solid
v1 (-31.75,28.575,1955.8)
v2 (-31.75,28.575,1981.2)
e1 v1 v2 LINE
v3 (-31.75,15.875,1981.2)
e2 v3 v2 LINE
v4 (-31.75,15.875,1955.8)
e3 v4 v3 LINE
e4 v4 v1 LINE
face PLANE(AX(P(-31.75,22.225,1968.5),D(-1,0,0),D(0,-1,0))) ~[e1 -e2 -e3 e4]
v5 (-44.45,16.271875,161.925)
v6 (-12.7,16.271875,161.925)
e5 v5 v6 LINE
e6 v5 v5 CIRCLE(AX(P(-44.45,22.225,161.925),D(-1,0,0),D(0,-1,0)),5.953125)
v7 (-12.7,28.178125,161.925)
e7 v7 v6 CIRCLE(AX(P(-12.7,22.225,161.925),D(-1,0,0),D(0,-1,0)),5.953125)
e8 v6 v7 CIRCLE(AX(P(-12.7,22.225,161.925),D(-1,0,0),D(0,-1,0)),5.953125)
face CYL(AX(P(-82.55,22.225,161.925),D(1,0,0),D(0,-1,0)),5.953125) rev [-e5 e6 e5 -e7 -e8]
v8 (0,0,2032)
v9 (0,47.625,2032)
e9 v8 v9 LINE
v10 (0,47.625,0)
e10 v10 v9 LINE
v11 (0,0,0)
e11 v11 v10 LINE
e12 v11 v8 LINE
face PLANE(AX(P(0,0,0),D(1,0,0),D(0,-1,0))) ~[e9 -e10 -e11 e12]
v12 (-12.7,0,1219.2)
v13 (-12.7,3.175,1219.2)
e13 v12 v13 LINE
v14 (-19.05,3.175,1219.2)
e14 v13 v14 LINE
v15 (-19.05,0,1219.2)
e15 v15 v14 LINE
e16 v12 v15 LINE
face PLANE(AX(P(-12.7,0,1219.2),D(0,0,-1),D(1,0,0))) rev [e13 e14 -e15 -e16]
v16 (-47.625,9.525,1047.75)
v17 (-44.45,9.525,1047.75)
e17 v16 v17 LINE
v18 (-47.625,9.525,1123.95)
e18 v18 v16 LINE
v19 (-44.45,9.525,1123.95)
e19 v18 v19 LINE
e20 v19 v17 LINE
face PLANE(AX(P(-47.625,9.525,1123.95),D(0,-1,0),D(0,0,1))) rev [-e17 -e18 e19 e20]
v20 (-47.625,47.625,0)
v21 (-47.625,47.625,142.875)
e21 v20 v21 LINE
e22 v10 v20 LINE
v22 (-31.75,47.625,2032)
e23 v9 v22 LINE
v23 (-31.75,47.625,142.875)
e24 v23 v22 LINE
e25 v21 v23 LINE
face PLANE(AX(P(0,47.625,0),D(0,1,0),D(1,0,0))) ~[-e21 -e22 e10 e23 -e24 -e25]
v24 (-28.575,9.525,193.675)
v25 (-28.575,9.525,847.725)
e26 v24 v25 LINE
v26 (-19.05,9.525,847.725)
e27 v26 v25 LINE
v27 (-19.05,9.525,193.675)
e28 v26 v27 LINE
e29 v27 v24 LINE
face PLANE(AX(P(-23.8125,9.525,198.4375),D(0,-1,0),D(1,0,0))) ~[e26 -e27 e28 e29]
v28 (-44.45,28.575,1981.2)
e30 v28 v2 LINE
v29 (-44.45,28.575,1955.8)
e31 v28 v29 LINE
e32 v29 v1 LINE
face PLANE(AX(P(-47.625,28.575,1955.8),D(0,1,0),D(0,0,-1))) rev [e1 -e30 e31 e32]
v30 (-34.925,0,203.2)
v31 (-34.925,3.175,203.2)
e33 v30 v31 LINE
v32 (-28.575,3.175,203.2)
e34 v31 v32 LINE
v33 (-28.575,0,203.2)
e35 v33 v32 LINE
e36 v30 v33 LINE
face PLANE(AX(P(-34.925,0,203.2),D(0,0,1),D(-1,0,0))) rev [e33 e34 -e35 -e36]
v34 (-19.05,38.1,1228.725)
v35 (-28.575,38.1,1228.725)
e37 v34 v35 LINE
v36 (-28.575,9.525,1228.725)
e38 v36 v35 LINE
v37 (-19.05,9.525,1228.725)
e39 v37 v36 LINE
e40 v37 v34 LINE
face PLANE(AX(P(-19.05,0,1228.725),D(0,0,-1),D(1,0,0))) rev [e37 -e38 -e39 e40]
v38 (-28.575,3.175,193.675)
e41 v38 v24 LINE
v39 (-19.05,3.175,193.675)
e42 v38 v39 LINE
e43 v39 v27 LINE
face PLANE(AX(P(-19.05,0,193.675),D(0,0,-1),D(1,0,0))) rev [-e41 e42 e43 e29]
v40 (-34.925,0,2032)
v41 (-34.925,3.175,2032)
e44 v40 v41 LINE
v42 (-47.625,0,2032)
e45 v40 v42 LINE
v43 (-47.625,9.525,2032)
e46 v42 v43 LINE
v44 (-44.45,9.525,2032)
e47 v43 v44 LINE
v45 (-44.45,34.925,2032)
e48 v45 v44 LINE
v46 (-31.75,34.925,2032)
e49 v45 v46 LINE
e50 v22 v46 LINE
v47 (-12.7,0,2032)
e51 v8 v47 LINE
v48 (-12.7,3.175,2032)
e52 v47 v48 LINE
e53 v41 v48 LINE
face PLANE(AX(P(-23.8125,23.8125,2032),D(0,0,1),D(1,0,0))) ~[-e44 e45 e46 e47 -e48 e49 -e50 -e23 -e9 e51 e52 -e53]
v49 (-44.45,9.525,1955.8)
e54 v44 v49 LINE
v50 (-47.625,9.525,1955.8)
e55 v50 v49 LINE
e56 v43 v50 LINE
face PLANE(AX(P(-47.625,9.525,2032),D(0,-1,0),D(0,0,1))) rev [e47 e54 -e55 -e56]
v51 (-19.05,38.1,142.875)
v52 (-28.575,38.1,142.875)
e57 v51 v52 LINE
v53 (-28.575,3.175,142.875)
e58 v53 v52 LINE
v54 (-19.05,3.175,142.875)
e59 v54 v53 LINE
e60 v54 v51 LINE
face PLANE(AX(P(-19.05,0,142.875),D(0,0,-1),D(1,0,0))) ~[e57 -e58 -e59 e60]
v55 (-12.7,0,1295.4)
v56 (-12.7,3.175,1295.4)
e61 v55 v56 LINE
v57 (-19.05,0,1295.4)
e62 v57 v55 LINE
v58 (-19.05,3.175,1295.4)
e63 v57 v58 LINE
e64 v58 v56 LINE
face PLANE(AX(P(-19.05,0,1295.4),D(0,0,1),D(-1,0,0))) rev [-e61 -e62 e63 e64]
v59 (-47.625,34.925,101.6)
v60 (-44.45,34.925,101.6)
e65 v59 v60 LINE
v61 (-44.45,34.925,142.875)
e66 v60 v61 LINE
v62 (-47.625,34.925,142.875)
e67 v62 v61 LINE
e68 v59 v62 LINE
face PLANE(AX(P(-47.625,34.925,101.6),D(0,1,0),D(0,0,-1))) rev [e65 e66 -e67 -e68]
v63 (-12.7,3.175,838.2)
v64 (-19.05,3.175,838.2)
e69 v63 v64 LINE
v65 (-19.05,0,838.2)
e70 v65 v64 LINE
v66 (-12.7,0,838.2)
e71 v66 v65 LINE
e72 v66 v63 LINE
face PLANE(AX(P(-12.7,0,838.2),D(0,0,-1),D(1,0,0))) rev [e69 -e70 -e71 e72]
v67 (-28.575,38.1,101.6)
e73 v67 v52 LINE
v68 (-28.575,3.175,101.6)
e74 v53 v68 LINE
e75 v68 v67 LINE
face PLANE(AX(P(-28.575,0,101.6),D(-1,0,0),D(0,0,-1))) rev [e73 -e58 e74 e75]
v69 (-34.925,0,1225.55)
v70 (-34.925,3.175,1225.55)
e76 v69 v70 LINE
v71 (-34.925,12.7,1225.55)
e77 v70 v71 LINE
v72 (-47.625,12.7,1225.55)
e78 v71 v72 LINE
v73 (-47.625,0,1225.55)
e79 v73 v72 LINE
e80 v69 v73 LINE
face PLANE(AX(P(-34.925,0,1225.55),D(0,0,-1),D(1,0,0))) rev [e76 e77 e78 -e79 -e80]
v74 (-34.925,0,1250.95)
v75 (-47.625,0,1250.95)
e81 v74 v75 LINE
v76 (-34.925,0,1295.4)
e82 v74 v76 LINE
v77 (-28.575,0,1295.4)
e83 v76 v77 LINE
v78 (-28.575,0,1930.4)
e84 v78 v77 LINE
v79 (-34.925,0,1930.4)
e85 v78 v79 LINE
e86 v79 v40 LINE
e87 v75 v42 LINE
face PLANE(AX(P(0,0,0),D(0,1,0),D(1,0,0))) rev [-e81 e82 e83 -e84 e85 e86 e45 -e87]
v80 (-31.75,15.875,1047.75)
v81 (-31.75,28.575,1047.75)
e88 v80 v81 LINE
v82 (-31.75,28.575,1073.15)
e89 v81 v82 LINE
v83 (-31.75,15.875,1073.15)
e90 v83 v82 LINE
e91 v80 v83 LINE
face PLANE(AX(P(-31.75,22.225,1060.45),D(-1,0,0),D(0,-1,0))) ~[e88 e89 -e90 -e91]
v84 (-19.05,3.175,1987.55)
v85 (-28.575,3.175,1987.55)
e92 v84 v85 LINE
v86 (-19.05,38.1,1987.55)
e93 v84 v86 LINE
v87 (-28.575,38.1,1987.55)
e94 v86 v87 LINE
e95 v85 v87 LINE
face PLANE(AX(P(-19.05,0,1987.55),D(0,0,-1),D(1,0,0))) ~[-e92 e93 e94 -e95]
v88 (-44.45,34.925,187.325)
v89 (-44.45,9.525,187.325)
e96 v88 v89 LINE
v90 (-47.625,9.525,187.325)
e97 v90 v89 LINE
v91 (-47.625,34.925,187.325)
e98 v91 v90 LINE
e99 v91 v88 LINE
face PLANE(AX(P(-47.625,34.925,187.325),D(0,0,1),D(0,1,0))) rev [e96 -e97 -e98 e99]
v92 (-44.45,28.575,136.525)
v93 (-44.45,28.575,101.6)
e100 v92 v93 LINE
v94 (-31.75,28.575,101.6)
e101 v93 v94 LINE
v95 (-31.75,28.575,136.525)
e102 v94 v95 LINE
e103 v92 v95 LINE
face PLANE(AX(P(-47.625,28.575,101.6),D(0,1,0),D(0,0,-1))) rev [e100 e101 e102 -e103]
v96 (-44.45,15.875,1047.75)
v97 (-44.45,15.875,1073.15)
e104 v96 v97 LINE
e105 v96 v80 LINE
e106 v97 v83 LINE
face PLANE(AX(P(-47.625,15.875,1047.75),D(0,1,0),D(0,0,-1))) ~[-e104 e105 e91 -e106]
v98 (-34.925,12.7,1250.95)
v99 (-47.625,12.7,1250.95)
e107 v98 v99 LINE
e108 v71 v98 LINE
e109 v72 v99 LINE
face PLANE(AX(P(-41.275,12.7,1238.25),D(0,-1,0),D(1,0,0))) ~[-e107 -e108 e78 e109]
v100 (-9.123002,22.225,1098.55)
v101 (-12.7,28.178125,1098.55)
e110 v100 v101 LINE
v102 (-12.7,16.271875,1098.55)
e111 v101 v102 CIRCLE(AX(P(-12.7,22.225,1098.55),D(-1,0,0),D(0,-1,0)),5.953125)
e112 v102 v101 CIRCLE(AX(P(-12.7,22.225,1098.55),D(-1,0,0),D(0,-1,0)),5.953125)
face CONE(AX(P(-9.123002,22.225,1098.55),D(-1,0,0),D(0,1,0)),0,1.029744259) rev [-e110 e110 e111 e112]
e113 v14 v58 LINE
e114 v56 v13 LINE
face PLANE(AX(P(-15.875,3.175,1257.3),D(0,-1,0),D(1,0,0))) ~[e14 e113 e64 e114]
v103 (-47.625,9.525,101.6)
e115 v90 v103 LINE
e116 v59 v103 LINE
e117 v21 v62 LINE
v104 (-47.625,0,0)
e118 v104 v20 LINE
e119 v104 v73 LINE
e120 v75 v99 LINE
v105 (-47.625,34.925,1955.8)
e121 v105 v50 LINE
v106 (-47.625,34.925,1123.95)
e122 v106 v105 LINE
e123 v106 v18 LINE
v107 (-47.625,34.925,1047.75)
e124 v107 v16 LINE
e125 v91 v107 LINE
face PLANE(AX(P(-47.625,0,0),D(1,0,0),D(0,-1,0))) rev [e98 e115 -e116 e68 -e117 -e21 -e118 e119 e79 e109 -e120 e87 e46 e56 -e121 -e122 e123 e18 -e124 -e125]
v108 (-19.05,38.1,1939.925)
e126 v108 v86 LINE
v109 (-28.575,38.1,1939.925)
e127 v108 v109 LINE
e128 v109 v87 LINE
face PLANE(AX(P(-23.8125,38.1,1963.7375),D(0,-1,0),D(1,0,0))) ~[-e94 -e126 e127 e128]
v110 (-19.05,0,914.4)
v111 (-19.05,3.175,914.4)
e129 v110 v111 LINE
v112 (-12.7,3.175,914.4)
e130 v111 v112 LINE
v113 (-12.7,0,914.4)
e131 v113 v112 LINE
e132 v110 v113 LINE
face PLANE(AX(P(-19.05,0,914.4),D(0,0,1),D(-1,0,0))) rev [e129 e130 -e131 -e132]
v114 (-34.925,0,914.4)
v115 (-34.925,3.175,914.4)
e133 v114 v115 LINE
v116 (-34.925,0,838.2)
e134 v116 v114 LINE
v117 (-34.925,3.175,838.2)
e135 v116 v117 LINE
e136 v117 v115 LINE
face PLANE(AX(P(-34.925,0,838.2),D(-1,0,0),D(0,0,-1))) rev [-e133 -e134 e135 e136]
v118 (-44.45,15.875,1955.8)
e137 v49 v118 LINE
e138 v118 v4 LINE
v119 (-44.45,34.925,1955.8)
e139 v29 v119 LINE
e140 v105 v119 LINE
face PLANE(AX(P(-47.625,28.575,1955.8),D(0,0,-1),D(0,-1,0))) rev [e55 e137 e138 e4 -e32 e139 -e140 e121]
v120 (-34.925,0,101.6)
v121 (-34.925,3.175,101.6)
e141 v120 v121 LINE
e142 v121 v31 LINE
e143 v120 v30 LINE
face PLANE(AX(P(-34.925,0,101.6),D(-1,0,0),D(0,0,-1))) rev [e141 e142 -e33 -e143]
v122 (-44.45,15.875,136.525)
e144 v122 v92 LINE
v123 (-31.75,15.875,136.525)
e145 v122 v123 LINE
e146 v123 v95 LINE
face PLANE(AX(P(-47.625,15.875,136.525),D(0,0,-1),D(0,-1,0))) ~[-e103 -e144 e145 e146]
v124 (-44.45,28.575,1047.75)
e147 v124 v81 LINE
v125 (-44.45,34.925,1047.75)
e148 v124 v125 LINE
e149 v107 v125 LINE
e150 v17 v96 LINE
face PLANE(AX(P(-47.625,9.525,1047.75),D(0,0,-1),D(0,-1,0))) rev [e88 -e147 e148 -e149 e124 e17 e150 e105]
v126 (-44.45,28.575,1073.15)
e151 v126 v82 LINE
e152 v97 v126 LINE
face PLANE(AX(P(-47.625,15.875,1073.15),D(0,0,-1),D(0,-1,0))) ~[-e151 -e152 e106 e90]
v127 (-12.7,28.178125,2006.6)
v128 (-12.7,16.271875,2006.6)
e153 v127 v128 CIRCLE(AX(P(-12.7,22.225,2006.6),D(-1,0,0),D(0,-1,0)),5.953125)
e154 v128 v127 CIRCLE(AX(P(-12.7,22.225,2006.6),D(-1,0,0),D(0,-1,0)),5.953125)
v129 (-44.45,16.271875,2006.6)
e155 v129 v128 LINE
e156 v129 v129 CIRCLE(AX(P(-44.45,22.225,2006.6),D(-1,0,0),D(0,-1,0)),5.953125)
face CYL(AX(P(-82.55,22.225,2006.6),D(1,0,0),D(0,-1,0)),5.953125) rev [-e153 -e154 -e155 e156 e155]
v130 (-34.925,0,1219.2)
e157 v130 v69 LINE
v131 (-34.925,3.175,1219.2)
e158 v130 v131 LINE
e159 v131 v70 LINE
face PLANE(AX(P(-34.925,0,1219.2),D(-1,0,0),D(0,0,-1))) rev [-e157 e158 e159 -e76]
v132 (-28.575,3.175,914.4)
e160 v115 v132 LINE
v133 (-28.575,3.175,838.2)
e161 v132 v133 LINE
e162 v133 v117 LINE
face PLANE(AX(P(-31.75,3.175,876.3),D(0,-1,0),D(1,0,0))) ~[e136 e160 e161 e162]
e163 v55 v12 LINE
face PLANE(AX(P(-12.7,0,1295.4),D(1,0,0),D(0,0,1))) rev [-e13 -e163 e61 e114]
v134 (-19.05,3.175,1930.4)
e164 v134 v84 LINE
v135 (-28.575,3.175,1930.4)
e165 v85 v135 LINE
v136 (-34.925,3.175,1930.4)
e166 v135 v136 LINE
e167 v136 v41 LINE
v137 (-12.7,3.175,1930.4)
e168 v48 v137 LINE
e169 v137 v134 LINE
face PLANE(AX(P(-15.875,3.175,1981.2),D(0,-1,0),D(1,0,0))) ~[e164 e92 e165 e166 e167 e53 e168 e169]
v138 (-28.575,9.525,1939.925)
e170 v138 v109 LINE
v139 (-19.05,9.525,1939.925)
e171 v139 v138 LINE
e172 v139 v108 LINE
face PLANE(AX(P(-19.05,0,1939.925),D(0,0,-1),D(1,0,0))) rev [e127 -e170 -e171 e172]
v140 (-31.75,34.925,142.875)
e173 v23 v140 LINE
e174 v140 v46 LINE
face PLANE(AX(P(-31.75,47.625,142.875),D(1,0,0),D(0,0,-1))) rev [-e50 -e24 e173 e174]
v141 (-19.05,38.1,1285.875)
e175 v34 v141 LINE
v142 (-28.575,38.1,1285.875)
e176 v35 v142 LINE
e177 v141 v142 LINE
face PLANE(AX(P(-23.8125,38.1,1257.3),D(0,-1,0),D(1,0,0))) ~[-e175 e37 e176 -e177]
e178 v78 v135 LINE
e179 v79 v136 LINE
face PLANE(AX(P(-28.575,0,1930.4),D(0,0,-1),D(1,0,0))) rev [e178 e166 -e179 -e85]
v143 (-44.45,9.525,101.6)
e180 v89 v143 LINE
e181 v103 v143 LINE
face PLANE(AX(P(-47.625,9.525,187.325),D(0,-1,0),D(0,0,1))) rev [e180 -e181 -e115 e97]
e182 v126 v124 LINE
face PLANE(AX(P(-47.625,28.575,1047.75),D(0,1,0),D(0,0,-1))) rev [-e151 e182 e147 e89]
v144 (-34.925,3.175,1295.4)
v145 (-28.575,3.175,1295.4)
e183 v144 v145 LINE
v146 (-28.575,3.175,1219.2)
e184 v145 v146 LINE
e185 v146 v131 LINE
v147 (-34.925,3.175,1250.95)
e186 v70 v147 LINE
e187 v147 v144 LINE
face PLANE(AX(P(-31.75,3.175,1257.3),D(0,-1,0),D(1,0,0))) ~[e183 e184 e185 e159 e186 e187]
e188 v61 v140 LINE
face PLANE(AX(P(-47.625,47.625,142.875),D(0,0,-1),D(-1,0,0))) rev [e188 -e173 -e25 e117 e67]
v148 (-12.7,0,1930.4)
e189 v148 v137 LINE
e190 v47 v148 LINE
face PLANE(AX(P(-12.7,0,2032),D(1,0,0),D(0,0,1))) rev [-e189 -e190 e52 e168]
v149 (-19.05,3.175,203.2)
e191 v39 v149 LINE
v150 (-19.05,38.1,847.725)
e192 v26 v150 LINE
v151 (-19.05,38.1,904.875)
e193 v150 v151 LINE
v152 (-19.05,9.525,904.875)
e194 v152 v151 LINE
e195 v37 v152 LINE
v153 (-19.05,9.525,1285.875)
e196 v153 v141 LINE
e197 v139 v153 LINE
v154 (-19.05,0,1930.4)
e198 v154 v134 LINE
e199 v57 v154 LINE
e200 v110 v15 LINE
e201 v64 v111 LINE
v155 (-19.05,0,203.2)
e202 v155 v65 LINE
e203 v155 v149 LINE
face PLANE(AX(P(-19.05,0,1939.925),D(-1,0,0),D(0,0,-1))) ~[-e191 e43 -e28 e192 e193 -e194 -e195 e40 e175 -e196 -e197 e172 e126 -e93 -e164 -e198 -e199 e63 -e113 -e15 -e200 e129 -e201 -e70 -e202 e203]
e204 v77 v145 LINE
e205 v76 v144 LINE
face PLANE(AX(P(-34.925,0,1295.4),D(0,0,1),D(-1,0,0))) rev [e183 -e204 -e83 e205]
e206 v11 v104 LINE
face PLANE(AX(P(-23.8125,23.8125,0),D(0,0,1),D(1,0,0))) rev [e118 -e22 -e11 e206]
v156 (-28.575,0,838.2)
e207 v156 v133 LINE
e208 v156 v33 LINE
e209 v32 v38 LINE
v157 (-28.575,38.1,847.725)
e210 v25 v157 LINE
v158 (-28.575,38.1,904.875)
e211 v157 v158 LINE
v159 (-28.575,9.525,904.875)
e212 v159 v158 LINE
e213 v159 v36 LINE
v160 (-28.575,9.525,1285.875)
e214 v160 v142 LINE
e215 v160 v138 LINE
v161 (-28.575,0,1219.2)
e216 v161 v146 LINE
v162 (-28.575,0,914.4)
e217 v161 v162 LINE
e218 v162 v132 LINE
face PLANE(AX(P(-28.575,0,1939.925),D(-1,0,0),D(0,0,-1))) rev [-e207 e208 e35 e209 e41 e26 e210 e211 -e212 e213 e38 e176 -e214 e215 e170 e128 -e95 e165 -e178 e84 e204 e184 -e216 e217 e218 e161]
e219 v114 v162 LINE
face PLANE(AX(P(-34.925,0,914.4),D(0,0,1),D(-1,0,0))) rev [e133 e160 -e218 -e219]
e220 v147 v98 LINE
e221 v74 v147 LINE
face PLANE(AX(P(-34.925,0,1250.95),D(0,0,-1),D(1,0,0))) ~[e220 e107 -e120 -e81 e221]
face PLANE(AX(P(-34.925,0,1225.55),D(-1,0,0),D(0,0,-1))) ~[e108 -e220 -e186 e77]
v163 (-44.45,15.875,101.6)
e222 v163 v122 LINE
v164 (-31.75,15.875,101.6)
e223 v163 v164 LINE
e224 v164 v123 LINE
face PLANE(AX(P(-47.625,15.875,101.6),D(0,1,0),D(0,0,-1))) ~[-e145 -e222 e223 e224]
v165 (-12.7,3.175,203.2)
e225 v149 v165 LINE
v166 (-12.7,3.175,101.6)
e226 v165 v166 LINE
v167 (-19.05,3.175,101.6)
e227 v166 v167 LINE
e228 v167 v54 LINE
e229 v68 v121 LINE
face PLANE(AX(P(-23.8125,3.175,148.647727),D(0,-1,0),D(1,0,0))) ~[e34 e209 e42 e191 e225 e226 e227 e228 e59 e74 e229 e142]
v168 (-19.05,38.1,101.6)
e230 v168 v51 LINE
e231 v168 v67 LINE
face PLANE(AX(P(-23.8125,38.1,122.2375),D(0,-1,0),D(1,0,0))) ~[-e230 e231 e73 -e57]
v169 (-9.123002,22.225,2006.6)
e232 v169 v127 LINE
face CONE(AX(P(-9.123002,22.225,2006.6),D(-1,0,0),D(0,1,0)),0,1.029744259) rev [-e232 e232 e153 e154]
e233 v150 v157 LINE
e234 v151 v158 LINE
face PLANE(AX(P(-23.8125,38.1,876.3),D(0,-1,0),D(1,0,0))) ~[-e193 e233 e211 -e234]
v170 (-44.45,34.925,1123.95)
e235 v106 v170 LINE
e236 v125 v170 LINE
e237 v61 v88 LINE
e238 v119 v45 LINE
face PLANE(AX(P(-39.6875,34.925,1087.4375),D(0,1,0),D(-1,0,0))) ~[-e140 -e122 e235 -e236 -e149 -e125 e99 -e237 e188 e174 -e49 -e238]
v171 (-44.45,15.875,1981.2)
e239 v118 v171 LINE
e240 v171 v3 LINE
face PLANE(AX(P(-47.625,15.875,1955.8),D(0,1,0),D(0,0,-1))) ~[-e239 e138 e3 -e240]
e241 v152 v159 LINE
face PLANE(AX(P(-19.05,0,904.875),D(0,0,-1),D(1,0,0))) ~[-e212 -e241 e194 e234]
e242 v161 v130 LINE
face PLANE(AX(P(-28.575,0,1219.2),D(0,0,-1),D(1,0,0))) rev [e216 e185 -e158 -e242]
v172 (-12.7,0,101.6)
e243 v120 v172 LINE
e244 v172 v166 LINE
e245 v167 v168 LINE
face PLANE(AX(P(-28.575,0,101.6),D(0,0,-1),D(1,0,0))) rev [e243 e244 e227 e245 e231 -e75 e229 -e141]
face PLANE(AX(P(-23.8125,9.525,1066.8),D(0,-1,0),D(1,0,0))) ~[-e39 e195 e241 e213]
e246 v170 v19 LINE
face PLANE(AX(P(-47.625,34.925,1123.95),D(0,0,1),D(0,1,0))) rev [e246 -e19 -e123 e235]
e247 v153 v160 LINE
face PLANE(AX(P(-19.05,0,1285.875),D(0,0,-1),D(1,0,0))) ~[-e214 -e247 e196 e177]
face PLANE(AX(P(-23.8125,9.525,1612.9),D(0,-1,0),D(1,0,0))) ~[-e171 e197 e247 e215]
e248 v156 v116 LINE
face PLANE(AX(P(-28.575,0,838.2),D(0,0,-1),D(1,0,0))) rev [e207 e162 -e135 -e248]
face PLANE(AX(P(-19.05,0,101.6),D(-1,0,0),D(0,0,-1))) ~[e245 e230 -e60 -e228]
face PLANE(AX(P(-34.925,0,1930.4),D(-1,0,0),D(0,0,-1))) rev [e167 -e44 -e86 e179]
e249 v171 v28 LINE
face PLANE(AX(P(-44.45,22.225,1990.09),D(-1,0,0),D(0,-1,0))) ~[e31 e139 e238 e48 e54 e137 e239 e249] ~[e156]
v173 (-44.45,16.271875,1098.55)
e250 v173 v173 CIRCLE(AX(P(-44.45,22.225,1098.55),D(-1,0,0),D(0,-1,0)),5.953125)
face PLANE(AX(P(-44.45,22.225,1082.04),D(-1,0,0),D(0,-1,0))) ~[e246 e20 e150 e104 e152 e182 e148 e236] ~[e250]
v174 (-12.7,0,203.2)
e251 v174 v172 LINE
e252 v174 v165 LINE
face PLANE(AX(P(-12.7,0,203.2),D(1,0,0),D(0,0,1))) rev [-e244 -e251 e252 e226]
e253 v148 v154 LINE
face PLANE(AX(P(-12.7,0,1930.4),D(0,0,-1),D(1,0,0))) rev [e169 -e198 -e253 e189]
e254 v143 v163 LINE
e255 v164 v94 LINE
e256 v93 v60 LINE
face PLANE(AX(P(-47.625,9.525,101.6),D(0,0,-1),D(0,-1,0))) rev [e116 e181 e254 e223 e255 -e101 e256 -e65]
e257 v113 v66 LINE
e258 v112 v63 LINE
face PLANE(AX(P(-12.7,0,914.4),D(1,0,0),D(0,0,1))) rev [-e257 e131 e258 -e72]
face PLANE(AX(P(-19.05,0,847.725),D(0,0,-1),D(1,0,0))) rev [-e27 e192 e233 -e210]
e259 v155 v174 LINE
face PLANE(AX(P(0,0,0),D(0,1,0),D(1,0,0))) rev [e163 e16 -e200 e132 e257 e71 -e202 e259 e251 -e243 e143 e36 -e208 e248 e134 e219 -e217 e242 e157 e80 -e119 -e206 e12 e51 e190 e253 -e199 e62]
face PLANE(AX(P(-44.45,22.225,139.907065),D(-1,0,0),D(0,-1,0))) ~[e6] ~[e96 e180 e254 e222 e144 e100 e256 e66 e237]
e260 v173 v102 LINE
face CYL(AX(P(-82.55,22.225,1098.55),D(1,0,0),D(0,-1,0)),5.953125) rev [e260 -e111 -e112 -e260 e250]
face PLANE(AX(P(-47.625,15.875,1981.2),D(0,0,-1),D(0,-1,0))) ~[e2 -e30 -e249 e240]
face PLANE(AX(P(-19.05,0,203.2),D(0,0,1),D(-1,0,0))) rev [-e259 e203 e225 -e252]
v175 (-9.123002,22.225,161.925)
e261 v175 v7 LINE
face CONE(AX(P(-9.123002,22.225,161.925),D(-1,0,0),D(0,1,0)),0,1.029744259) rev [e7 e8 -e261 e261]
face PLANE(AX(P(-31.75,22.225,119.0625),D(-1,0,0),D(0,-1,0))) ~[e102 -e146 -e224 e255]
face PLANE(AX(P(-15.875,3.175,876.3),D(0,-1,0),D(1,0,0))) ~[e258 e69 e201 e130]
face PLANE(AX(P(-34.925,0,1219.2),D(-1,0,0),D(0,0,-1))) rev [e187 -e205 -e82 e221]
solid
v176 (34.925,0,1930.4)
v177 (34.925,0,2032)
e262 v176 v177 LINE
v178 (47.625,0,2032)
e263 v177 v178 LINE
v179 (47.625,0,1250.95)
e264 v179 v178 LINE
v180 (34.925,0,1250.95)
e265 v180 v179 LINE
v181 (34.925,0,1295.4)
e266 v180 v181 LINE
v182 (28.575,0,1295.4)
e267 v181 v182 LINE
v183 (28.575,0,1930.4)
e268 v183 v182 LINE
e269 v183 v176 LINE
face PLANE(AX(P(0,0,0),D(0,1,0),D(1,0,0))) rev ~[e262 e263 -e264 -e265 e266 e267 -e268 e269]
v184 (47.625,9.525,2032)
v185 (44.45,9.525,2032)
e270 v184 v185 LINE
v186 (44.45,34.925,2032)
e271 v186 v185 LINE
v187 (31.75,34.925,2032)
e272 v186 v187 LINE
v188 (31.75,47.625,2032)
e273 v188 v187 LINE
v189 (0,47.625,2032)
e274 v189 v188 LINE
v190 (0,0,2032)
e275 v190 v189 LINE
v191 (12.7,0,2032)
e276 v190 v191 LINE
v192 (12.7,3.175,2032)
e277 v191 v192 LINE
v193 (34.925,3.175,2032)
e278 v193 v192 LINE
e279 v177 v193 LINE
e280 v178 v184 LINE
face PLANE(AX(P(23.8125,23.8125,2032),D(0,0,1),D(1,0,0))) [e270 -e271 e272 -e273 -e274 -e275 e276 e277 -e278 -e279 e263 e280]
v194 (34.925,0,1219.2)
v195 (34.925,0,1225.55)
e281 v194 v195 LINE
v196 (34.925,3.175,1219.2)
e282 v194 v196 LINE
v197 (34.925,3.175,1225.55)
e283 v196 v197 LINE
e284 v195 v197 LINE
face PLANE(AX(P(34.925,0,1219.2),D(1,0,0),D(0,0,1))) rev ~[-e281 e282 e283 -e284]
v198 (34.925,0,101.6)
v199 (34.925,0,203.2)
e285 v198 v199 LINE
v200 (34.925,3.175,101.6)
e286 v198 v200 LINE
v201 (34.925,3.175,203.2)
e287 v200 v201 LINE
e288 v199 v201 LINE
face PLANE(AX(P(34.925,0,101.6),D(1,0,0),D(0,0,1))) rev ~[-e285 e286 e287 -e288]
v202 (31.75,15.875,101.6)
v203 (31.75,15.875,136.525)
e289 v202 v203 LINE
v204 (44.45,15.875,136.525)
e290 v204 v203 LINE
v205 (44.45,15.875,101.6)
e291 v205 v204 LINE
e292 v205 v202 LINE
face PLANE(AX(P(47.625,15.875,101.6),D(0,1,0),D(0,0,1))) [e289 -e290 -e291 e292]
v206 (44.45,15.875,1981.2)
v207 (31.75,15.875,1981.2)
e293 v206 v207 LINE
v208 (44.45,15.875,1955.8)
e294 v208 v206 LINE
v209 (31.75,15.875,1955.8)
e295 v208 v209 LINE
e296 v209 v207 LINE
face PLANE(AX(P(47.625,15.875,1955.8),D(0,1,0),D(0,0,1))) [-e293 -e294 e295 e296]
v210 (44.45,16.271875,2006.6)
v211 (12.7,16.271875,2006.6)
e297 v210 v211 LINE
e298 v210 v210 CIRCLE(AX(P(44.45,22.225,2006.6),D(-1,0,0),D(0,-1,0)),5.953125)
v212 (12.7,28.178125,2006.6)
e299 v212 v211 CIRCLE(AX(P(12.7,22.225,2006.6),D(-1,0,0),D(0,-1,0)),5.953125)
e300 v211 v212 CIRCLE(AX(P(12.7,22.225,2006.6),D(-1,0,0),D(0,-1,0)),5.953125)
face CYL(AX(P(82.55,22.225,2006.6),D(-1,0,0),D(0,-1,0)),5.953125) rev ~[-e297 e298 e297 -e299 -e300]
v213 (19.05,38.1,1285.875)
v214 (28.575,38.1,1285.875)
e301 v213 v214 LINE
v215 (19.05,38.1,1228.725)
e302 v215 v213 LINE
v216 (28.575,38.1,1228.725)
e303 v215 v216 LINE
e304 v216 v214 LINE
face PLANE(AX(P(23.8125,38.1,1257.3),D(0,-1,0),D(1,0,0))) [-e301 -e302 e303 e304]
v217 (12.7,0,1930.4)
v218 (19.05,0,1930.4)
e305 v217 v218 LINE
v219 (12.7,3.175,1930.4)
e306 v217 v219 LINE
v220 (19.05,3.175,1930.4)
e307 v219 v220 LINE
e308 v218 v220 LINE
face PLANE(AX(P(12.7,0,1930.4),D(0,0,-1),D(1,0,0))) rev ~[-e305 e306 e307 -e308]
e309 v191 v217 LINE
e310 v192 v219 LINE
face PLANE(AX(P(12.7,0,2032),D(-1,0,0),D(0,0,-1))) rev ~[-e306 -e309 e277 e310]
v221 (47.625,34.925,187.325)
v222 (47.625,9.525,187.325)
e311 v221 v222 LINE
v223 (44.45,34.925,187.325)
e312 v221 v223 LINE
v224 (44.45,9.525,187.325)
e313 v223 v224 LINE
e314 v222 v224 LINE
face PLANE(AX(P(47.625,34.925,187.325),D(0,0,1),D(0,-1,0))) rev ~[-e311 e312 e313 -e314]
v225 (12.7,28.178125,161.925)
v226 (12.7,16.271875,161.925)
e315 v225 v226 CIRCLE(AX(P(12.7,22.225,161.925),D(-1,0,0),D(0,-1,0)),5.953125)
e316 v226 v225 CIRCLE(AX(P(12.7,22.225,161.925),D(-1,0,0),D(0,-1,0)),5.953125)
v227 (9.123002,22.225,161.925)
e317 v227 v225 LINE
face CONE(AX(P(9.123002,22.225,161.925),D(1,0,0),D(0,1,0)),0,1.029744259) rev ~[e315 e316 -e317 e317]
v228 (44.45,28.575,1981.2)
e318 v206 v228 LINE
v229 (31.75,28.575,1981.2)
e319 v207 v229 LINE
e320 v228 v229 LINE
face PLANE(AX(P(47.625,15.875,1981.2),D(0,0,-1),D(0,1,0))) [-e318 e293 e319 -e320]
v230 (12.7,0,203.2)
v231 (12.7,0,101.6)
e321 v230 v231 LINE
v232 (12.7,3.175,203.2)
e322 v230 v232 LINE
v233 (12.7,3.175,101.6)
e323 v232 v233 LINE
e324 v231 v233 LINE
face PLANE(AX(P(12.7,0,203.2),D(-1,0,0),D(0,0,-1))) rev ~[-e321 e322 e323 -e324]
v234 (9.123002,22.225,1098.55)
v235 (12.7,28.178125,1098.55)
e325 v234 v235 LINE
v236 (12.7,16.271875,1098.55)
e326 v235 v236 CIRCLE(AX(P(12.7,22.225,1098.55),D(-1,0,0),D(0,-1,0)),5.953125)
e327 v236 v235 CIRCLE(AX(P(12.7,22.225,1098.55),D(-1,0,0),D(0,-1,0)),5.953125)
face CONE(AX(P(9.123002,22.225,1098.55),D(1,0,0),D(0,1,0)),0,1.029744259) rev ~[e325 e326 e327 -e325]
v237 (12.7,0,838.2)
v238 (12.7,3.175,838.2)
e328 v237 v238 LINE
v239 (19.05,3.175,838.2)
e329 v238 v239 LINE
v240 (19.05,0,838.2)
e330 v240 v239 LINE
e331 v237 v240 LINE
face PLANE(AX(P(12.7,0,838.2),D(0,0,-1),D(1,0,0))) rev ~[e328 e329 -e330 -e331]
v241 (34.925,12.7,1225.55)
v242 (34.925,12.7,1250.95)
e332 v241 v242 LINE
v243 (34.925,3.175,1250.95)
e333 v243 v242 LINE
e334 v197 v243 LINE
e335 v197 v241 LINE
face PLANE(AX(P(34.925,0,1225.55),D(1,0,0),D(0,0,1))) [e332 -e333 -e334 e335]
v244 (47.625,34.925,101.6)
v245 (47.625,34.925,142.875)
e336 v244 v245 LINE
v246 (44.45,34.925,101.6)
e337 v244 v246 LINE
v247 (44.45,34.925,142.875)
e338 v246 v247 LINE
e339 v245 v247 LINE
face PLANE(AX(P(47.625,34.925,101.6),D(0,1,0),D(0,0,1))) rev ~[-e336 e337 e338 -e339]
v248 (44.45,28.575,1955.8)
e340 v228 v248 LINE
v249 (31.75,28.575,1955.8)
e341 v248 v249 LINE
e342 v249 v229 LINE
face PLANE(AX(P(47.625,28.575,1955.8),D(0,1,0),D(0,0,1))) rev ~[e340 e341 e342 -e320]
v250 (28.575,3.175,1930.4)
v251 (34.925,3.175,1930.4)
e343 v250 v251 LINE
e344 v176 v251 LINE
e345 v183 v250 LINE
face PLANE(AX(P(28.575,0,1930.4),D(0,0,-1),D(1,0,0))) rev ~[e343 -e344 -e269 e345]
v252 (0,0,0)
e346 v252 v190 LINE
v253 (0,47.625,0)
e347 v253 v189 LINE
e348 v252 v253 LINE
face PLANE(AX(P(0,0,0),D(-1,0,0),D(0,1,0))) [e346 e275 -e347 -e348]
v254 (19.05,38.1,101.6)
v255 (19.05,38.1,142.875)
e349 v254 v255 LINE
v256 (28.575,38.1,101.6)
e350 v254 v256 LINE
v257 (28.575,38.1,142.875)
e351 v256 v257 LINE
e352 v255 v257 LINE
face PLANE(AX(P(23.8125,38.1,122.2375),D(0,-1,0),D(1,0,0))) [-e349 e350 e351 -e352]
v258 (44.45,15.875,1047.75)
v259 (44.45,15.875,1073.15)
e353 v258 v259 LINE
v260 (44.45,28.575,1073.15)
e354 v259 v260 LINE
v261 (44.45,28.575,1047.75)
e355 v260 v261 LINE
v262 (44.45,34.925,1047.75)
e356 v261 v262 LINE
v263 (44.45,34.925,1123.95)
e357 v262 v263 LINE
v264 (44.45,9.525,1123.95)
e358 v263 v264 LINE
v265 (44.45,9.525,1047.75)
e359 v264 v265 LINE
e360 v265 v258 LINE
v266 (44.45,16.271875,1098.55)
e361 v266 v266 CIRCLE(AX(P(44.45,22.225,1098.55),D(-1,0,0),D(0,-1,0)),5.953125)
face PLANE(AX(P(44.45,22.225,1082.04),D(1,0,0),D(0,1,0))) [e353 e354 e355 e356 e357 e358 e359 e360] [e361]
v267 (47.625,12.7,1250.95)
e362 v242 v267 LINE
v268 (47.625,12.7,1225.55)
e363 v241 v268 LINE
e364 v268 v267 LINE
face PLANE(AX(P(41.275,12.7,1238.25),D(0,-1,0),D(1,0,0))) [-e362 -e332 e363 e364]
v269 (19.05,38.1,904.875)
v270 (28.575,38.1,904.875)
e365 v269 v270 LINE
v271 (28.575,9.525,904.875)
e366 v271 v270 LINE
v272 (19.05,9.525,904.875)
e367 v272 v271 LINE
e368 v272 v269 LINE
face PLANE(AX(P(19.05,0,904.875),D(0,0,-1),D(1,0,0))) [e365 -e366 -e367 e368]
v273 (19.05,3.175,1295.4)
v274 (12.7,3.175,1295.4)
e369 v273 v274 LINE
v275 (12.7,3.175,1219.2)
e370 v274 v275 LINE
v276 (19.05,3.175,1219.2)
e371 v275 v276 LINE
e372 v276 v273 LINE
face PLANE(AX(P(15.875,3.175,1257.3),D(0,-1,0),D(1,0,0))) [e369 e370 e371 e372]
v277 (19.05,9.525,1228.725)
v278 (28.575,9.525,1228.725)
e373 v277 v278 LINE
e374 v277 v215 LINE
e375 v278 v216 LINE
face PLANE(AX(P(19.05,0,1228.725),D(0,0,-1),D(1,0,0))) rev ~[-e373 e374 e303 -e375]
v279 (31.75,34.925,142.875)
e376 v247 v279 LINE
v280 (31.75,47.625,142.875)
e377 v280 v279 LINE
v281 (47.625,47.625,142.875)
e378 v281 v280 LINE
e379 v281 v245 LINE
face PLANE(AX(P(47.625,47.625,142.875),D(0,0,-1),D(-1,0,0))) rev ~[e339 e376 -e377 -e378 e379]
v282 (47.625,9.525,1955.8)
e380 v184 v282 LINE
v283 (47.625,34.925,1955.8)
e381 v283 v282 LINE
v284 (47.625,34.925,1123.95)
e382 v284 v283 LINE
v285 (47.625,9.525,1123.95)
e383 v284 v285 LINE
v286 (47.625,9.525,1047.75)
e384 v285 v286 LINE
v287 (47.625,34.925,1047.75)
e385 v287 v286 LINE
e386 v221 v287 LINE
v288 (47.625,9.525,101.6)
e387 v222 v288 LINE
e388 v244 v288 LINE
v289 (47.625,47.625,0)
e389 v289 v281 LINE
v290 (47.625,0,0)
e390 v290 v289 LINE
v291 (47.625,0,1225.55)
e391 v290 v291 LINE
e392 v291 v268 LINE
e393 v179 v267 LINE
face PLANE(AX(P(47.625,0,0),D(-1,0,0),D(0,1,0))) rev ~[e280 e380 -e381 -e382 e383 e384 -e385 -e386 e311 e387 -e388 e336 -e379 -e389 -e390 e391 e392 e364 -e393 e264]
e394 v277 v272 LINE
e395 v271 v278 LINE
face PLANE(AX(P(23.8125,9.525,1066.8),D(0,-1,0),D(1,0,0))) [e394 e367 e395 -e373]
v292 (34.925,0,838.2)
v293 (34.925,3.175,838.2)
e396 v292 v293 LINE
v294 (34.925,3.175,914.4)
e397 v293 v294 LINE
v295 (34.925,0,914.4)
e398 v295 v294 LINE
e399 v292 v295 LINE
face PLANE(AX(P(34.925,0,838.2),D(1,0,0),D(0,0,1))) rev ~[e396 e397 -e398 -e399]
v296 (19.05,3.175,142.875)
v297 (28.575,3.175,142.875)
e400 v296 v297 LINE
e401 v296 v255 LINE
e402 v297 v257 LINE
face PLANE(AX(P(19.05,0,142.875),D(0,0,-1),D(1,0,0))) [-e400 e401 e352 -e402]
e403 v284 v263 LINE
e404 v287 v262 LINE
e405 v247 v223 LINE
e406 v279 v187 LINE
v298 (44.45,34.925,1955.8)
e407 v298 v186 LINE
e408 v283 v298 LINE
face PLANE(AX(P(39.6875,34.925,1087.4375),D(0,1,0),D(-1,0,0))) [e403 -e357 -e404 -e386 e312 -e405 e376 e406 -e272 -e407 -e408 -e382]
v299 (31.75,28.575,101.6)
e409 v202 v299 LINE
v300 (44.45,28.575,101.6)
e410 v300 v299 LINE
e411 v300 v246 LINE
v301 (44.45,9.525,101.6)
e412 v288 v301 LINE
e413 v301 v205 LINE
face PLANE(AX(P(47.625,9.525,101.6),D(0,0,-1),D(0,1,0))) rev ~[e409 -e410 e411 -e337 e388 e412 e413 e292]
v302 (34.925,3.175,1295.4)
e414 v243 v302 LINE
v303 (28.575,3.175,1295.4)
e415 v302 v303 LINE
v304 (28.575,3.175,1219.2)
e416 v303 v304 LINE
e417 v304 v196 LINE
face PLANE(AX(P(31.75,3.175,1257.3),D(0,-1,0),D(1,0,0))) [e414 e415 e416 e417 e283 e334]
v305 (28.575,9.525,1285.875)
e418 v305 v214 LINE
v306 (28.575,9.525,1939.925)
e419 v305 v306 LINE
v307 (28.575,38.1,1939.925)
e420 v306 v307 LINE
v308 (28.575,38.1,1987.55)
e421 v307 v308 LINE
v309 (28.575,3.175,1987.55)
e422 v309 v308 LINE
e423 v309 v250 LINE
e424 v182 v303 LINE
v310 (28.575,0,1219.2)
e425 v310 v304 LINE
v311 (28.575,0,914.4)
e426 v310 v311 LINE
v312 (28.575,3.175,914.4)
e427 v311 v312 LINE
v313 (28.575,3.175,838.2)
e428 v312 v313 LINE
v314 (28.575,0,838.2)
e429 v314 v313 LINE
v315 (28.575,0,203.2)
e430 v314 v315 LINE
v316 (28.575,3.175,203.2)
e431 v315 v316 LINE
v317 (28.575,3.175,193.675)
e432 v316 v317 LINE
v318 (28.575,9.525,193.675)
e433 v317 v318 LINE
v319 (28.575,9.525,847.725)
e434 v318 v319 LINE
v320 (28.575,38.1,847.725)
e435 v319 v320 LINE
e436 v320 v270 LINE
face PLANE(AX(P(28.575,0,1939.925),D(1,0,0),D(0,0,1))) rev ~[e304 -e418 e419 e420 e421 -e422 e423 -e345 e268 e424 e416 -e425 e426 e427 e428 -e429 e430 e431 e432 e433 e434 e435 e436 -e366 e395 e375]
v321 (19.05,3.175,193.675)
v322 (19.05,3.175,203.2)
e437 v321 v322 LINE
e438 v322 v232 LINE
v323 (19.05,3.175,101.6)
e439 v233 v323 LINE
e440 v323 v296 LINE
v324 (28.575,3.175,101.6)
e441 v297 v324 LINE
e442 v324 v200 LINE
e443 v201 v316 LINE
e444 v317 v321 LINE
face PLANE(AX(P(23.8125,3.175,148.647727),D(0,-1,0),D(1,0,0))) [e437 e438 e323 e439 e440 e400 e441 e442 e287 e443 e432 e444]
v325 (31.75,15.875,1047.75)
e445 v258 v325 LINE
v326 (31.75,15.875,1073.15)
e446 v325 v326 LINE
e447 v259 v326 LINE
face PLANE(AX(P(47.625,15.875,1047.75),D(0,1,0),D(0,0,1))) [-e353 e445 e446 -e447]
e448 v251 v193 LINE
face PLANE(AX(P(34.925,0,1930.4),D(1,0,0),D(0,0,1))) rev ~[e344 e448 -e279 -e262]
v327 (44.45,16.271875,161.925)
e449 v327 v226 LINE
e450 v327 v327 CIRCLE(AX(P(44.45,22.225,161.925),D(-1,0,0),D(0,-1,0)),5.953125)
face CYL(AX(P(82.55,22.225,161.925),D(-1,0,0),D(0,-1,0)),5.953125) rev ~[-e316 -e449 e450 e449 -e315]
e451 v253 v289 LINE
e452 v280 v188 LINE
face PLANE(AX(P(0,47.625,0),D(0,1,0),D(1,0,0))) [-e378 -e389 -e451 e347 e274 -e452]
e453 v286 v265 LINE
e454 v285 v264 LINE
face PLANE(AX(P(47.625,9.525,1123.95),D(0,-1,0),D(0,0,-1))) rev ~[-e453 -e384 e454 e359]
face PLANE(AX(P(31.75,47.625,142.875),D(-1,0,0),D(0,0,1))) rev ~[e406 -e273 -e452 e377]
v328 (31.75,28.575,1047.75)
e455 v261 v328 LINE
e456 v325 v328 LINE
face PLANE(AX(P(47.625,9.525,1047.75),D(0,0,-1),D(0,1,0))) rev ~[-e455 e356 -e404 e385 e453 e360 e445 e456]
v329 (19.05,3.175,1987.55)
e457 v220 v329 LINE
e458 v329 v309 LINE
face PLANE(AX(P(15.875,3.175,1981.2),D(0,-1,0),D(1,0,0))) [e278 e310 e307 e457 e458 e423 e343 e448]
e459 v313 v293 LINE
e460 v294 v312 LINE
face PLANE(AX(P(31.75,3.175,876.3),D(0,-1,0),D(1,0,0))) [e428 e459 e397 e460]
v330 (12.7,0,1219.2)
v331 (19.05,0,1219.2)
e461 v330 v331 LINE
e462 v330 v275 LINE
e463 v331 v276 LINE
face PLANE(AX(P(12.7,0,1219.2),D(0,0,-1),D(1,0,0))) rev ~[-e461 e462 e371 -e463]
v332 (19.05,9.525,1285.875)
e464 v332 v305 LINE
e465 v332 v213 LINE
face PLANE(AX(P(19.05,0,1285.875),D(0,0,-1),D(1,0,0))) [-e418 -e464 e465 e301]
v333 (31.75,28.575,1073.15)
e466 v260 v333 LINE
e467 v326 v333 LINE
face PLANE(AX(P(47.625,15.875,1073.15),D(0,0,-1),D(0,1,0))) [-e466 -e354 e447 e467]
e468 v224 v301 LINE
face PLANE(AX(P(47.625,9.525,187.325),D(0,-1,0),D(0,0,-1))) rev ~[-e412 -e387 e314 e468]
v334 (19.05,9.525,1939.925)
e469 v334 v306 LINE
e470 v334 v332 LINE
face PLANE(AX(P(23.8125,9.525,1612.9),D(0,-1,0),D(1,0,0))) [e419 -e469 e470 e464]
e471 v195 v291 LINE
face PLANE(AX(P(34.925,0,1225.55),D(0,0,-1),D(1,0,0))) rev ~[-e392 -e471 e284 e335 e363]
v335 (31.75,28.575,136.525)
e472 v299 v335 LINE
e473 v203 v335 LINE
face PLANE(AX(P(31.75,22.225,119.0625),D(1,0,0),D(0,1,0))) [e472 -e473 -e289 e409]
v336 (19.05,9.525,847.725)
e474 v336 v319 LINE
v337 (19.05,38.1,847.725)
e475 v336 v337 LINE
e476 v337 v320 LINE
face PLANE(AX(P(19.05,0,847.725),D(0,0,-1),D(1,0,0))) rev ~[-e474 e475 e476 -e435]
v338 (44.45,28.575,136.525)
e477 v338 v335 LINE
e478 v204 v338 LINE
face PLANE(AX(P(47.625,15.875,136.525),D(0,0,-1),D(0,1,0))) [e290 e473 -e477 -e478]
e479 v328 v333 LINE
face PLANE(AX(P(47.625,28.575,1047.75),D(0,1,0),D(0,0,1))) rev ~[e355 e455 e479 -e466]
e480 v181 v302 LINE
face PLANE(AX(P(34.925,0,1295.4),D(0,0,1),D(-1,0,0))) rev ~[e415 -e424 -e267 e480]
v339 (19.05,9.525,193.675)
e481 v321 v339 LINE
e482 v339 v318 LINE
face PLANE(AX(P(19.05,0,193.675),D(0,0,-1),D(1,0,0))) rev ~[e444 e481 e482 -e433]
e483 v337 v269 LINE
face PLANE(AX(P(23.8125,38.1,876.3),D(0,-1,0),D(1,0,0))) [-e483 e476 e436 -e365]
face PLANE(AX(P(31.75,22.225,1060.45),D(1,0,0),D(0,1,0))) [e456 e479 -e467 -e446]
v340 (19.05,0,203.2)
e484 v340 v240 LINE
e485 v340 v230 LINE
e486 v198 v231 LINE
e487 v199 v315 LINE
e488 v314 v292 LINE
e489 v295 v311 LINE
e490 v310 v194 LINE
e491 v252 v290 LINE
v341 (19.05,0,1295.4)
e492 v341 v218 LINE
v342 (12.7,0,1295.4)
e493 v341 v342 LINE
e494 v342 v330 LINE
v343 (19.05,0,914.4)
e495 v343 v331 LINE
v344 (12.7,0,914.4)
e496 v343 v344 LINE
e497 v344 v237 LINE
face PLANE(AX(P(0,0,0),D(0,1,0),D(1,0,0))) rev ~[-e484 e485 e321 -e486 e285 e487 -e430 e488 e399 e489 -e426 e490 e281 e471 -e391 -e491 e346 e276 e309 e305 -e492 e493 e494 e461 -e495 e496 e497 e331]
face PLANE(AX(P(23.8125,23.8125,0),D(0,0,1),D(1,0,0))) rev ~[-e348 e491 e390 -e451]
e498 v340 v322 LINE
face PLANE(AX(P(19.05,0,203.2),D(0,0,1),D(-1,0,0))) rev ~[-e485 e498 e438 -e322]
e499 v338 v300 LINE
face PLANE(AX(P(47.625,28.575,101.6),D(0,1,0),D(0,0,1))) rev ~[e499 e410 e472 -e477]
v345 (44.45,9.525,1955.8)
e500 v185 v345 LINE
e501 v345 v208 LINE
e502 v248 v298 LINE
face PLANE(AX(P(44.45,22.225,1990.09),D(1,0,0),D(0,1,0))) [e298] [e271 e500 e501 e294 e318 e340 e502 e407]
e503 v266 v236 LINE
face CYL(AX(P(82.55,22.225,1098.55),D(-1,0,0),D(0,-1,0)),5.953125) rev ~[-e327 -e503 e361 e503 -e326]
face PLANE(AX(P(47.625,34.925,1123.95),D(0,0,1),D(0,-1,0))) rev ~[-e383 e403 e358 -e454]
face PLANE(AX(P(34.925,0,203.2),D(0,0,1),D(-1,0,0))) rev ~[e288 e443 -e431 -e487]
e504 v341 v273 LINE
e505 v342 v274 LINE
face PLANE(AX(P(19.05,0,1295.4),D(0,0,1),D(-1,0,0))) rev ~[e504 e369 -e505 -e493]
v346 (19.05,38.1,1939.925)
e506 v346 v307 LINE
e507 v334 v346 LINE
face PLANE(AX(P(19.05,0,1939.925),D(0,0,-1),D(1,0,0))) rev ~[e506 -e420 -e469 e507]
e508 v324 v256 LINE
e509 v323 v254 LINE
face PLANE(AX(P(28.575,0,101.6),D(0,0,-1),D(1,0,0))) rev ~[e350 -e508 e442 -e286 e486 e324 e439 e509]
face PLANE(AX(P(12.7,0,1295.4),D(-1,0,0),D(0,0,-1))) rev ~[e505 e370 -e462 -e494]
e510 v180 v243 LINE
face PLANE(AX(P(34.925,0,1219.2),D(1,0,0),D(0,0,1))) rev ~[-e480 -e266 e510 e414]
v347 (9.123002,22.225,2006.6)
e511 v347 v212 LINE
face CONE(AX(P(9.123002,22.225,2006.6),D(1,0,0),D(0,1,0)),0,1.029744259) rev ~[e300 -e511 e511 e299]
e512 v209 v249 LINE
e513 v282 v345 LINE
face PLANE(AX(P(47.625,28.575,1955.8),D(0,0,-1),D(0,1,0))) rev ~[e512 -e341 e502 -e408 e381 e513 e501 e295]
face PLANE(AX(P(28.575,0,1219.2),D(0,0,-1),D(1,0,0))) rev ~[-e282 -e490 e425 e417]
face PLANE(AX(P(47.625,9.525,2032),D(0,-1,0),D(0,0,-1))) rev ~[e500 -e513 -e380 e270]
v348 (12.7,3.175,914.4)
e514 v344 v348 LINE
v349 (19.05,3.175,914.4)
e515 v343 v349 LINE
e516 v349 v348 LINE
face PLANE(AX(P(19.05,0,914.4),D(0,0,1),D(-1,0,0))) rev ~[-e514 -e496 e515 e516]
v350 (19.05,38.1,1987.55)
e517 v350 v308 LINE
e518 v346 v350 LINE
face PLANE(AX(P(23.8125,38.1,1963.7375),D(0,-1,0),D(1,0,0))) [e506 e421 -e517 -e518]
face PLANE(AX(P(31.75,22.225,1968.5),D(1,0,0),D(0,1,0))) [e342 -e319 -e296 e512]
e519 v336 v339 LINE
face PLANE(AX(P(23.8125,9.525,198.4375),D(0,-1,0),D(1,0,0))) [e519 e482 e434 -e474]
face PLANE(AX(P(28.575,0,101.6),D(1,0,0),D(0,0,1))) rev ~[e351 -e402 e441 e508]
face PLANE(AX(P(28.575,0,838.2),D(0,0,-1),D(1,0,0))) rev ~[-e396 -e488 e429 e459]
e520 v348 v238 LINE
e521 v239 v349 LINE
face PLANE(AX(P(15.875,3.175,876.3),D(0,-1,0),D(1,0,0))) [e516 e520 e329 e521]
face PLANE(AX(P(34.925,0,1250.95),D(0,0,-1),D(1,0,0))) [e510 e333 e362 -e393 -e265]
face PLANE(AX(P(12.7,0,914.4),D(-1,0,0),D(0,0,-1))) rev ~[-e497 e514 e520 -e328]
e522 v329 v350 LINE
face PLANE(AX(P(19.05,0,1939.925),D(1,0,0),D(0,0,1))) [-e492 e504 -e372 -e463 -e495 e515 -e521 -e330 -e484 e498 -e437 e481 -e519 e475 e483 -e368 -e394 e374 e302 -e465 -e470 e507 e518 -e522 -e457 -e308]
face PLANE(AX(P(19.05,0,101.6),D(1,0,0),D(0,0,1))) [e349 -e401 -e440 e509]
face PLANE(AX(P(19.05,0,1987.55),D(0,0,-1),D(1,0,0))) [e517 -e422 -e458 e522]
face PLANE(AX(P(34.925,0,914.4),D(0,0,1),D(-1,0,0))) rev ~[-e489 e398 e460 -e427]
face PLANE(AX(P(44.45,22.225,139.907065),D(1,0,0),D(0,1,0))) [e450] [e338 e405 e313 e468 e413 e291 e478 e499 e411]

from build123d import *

# Parameters (mm, degrees)
F0_W      = 47.625
F0_H      = 47.625
F1_DEPTH  = 2032
F2_W      = 9.525
F2_H      = 41.275
F2_H_2    = 47.625
F2_H_3    = 57.15
F3_DEPTH  = 38.1
F2_H_4    = 9.525
F2_H_5    = 635
F2_H_6    = 304.8
F4_DEPTH  = 9.525
F2_H_7    = 44.45
F5_DEPTH  = 3.175
F7_D      = 11.90625
F7_DEPTH  = 34.925
F7_TIP    = 3.5769983726
F6_W      = 12.7
F6_H      = 25.4
F6_H_2    = 34.925
F8_DEPTH  = 15.875
F9_DEPTH  = 3.175
F10_W     = 15.875
F10_H     = 1889.125
F11_DEPTH = 12.7
F12_W     = 12.7
F12_H     = 25.4
F13_DEPTH = 12.7


with BuildPart() as f1:
    # F0 (on Top) → F1 (new body)
    with BuildSketch(Plane.XY):
        with Locations((23.8125, 23.8125)):
            Rectangle(F0_W, F0_H)
    extrude(amount=F1_DEPTH)

    # F2 (on face) → F3 (cut)
    with BuildSketch(Plane.XZ):
        with Locations((23.8125, 122.2375)):
            Rectangle(F2_W, F2_H)
        with Locations((23.8125, 1963.7375)):
            Rectangle(F2_W, F2_H_2)
        with Locations((23.8125, 876.3)):
            Rectangle(F2_W, F2_H_3)
        with Locations((23.8125, 1257.3)):
            Rectangle(F2_W, F2_H_3)
    extrude(amount=-F3_DEPTH, mode=Mode.SUBTRACT)

    # F2 (on face) → F4 (cut)
    with BuildSketch(Plane.XZ):
        with Locations((23.8125, 198.4375)):
            Rectangle(F2_W, F2_H_4)
        with Locations((23.8125, 520.7)):
            Rectangle(F2_W, F2_H_5)
        with Locations((23.8125, 1066.8)):
            Rectangle(F2_W, F2_H_6)
        with Locations((23.8125, 1612.9)):
            Rectangle(F2_W, F2_H_5)
        with Locations((23.8125, 1935.1625)):
            Rectangle(F2_W, F2_H_4)
        with Locations((23.8125, 1223.9625)):
            Rectangle(F2_W, F2_H_4)
        with Locations((23.8125, 842.9625)):
            Rectangle(F2_W, F2_H_4)
        with Locations((23.8125, 1290.6375)):
            Rectangle(F2_W, F2_H_4)
        with Locations((23.8125, 909.6375)):
            Rectangle(F2_W, F2_H_4)
    extrude(amount=-F4_DEPTH, mode=Mode.SUBTRACT)

    # F2 (on face) → F5 (cut)
    with BuildSketch(Plane.XZ):
        Polygon((12.7, 1930.4), (19.05, 1930.4), (19.05, 1939.925), (19.05, 1987.55), (19.05, 2032), (12.7, 2032), align=None)
        with Locations((23.8125, 2009.775)):
            Rectangle(F2_W, F2_H_7)
        Polygon((28.575, 1939.925), (28.575, 1930.4), (34.925, 1930.4), (34.925, 2032), (28.575, 2032), (28.575, 1987.55), align=None)
        Polygon((12.7, 1219.2), (19.05, 1219.2), (19.05, 1228.725), (19.05, 1285.875), (19.05, 1295.4), (12.7, 1295.4), align=None)
        Polygon((28.575, 1228.725), (28.575, 1219.2), (34.925, 1219.2), (34.925, 1295.4), (28.575, 1295.4), (28.575, 1285.875), align=None)
        Polygon((12.7, 838.2), (19.05, 838.2), (19.05, 847.725), (19.05, 904.875), (19.05, 914.4), (12.7, 914.4), align=None)
        Polygon((28.575, 847.725), (28.575, 838.2), (34.925, 838.2), (34.925, 914.4), (28.575, 914.4), (28.575, 904.875), align=None)
        Polygon((34.925, 101.6), (34.925, 203.2), (28.575, 203.2), (28.575, 193.675), (19.05, 193.675), (19.05, 203.2), (12.7, 203.2), (12.7, 101.6), (19.05, 101.6), (19.05, 142.875), (28.575, 142.875), (28.575, 101.6), align=None)
    extrude(amount=-F5_DEPTH, mode=Mode.SUBTRACT)

    # F7
    with Locations(Plane.YZ.offset(47.625)):
        with Locations((22.225, 2006.6), (22.225, 161.925), (22.225, 1098.55)):
            Hole(F7_D / 2, depth=F7_DEPTH)
            with Locations((0, 0, -(F7_DEPTH + F7_TIP / 2))):  # 118° drill point
                Cone(0, F7_D / 2, F7_TIP, mode=Mode.SUBTRACT)

    # F6 (on face) → F8 (cut)
    with BuildSketch(Plane.YZ.offset(47.625)):
        with Locations((22.225, 1968.5)):
            Rectangle(F6_W, F6_H)
        with Locations((22.225, 119.0625)):
            Rectangle(F6_W, F6_H_2)
        with Locations((22.225, 1060.45)):
            Rectangle(F6_W, F6_H)
    extrude(amount=-F8_DEPTH, mode=Mode.SUBTRACT)

    # F6 (on face) → F9 (cut)
    with BuildSketch(Plane.YZ.offset(47.625)):
        Polygon((28.575, 101.6), (34.925, 101.6), (34.925, 187.325), (9.525, 187.325), (9.525, 101.6), (15.875, 101.6), (15.875, 136.525), (28.575, 136.525), align=None)
        Polygon((9.525, 2032), (9.525, 1955.8), (15.875, 1955.8), (15.875, 1981.2), (28.575, 1981.2), (28.575, 1955.8), (34.925, 1955.8), (34.925, 2032), align=None)
        Polygon((9.525, 1123.95), (9.525, 1047.75), (15.875, 1047.75), (15.875, 1073.15), (28.575, 1073.15), (28.575, 1047.75), (34.925, 1047.75), (34.925, 1123.95), align=None)
    extrude(amount=-F9_DEPTH, mode=Mode.SUBTRACT)

    # F10 (on face) → F11 (cut)
    with BuildSketch(Plane(origin=(0, 47.625, 0), x_dir=(-1, 0, 0), z_dir=(0, 1, 0))):
        with Locations((-39.6875, 1087.4375)):
            Rectangle(F10_W, F10_H)
    extrude(amount=-F11_DEPTH, mode=Mode.SUBTRACT)

    # F12 (on face) → F13 (cut)
    with BuildSketch(Plane.XZ):
        with Locations((41.275, 1238.25)):
            Rectangle(F12_W, F12_H)
    extrude(amount=-F13_DEPTH, mode=Mode.SUBTRACT)


with BuildPart() as f14_1:
    # F14: instance of F1
    add(f1.part.mirror(Plane.YZ))


solid = Compound([f1.part, f14_1.part])
